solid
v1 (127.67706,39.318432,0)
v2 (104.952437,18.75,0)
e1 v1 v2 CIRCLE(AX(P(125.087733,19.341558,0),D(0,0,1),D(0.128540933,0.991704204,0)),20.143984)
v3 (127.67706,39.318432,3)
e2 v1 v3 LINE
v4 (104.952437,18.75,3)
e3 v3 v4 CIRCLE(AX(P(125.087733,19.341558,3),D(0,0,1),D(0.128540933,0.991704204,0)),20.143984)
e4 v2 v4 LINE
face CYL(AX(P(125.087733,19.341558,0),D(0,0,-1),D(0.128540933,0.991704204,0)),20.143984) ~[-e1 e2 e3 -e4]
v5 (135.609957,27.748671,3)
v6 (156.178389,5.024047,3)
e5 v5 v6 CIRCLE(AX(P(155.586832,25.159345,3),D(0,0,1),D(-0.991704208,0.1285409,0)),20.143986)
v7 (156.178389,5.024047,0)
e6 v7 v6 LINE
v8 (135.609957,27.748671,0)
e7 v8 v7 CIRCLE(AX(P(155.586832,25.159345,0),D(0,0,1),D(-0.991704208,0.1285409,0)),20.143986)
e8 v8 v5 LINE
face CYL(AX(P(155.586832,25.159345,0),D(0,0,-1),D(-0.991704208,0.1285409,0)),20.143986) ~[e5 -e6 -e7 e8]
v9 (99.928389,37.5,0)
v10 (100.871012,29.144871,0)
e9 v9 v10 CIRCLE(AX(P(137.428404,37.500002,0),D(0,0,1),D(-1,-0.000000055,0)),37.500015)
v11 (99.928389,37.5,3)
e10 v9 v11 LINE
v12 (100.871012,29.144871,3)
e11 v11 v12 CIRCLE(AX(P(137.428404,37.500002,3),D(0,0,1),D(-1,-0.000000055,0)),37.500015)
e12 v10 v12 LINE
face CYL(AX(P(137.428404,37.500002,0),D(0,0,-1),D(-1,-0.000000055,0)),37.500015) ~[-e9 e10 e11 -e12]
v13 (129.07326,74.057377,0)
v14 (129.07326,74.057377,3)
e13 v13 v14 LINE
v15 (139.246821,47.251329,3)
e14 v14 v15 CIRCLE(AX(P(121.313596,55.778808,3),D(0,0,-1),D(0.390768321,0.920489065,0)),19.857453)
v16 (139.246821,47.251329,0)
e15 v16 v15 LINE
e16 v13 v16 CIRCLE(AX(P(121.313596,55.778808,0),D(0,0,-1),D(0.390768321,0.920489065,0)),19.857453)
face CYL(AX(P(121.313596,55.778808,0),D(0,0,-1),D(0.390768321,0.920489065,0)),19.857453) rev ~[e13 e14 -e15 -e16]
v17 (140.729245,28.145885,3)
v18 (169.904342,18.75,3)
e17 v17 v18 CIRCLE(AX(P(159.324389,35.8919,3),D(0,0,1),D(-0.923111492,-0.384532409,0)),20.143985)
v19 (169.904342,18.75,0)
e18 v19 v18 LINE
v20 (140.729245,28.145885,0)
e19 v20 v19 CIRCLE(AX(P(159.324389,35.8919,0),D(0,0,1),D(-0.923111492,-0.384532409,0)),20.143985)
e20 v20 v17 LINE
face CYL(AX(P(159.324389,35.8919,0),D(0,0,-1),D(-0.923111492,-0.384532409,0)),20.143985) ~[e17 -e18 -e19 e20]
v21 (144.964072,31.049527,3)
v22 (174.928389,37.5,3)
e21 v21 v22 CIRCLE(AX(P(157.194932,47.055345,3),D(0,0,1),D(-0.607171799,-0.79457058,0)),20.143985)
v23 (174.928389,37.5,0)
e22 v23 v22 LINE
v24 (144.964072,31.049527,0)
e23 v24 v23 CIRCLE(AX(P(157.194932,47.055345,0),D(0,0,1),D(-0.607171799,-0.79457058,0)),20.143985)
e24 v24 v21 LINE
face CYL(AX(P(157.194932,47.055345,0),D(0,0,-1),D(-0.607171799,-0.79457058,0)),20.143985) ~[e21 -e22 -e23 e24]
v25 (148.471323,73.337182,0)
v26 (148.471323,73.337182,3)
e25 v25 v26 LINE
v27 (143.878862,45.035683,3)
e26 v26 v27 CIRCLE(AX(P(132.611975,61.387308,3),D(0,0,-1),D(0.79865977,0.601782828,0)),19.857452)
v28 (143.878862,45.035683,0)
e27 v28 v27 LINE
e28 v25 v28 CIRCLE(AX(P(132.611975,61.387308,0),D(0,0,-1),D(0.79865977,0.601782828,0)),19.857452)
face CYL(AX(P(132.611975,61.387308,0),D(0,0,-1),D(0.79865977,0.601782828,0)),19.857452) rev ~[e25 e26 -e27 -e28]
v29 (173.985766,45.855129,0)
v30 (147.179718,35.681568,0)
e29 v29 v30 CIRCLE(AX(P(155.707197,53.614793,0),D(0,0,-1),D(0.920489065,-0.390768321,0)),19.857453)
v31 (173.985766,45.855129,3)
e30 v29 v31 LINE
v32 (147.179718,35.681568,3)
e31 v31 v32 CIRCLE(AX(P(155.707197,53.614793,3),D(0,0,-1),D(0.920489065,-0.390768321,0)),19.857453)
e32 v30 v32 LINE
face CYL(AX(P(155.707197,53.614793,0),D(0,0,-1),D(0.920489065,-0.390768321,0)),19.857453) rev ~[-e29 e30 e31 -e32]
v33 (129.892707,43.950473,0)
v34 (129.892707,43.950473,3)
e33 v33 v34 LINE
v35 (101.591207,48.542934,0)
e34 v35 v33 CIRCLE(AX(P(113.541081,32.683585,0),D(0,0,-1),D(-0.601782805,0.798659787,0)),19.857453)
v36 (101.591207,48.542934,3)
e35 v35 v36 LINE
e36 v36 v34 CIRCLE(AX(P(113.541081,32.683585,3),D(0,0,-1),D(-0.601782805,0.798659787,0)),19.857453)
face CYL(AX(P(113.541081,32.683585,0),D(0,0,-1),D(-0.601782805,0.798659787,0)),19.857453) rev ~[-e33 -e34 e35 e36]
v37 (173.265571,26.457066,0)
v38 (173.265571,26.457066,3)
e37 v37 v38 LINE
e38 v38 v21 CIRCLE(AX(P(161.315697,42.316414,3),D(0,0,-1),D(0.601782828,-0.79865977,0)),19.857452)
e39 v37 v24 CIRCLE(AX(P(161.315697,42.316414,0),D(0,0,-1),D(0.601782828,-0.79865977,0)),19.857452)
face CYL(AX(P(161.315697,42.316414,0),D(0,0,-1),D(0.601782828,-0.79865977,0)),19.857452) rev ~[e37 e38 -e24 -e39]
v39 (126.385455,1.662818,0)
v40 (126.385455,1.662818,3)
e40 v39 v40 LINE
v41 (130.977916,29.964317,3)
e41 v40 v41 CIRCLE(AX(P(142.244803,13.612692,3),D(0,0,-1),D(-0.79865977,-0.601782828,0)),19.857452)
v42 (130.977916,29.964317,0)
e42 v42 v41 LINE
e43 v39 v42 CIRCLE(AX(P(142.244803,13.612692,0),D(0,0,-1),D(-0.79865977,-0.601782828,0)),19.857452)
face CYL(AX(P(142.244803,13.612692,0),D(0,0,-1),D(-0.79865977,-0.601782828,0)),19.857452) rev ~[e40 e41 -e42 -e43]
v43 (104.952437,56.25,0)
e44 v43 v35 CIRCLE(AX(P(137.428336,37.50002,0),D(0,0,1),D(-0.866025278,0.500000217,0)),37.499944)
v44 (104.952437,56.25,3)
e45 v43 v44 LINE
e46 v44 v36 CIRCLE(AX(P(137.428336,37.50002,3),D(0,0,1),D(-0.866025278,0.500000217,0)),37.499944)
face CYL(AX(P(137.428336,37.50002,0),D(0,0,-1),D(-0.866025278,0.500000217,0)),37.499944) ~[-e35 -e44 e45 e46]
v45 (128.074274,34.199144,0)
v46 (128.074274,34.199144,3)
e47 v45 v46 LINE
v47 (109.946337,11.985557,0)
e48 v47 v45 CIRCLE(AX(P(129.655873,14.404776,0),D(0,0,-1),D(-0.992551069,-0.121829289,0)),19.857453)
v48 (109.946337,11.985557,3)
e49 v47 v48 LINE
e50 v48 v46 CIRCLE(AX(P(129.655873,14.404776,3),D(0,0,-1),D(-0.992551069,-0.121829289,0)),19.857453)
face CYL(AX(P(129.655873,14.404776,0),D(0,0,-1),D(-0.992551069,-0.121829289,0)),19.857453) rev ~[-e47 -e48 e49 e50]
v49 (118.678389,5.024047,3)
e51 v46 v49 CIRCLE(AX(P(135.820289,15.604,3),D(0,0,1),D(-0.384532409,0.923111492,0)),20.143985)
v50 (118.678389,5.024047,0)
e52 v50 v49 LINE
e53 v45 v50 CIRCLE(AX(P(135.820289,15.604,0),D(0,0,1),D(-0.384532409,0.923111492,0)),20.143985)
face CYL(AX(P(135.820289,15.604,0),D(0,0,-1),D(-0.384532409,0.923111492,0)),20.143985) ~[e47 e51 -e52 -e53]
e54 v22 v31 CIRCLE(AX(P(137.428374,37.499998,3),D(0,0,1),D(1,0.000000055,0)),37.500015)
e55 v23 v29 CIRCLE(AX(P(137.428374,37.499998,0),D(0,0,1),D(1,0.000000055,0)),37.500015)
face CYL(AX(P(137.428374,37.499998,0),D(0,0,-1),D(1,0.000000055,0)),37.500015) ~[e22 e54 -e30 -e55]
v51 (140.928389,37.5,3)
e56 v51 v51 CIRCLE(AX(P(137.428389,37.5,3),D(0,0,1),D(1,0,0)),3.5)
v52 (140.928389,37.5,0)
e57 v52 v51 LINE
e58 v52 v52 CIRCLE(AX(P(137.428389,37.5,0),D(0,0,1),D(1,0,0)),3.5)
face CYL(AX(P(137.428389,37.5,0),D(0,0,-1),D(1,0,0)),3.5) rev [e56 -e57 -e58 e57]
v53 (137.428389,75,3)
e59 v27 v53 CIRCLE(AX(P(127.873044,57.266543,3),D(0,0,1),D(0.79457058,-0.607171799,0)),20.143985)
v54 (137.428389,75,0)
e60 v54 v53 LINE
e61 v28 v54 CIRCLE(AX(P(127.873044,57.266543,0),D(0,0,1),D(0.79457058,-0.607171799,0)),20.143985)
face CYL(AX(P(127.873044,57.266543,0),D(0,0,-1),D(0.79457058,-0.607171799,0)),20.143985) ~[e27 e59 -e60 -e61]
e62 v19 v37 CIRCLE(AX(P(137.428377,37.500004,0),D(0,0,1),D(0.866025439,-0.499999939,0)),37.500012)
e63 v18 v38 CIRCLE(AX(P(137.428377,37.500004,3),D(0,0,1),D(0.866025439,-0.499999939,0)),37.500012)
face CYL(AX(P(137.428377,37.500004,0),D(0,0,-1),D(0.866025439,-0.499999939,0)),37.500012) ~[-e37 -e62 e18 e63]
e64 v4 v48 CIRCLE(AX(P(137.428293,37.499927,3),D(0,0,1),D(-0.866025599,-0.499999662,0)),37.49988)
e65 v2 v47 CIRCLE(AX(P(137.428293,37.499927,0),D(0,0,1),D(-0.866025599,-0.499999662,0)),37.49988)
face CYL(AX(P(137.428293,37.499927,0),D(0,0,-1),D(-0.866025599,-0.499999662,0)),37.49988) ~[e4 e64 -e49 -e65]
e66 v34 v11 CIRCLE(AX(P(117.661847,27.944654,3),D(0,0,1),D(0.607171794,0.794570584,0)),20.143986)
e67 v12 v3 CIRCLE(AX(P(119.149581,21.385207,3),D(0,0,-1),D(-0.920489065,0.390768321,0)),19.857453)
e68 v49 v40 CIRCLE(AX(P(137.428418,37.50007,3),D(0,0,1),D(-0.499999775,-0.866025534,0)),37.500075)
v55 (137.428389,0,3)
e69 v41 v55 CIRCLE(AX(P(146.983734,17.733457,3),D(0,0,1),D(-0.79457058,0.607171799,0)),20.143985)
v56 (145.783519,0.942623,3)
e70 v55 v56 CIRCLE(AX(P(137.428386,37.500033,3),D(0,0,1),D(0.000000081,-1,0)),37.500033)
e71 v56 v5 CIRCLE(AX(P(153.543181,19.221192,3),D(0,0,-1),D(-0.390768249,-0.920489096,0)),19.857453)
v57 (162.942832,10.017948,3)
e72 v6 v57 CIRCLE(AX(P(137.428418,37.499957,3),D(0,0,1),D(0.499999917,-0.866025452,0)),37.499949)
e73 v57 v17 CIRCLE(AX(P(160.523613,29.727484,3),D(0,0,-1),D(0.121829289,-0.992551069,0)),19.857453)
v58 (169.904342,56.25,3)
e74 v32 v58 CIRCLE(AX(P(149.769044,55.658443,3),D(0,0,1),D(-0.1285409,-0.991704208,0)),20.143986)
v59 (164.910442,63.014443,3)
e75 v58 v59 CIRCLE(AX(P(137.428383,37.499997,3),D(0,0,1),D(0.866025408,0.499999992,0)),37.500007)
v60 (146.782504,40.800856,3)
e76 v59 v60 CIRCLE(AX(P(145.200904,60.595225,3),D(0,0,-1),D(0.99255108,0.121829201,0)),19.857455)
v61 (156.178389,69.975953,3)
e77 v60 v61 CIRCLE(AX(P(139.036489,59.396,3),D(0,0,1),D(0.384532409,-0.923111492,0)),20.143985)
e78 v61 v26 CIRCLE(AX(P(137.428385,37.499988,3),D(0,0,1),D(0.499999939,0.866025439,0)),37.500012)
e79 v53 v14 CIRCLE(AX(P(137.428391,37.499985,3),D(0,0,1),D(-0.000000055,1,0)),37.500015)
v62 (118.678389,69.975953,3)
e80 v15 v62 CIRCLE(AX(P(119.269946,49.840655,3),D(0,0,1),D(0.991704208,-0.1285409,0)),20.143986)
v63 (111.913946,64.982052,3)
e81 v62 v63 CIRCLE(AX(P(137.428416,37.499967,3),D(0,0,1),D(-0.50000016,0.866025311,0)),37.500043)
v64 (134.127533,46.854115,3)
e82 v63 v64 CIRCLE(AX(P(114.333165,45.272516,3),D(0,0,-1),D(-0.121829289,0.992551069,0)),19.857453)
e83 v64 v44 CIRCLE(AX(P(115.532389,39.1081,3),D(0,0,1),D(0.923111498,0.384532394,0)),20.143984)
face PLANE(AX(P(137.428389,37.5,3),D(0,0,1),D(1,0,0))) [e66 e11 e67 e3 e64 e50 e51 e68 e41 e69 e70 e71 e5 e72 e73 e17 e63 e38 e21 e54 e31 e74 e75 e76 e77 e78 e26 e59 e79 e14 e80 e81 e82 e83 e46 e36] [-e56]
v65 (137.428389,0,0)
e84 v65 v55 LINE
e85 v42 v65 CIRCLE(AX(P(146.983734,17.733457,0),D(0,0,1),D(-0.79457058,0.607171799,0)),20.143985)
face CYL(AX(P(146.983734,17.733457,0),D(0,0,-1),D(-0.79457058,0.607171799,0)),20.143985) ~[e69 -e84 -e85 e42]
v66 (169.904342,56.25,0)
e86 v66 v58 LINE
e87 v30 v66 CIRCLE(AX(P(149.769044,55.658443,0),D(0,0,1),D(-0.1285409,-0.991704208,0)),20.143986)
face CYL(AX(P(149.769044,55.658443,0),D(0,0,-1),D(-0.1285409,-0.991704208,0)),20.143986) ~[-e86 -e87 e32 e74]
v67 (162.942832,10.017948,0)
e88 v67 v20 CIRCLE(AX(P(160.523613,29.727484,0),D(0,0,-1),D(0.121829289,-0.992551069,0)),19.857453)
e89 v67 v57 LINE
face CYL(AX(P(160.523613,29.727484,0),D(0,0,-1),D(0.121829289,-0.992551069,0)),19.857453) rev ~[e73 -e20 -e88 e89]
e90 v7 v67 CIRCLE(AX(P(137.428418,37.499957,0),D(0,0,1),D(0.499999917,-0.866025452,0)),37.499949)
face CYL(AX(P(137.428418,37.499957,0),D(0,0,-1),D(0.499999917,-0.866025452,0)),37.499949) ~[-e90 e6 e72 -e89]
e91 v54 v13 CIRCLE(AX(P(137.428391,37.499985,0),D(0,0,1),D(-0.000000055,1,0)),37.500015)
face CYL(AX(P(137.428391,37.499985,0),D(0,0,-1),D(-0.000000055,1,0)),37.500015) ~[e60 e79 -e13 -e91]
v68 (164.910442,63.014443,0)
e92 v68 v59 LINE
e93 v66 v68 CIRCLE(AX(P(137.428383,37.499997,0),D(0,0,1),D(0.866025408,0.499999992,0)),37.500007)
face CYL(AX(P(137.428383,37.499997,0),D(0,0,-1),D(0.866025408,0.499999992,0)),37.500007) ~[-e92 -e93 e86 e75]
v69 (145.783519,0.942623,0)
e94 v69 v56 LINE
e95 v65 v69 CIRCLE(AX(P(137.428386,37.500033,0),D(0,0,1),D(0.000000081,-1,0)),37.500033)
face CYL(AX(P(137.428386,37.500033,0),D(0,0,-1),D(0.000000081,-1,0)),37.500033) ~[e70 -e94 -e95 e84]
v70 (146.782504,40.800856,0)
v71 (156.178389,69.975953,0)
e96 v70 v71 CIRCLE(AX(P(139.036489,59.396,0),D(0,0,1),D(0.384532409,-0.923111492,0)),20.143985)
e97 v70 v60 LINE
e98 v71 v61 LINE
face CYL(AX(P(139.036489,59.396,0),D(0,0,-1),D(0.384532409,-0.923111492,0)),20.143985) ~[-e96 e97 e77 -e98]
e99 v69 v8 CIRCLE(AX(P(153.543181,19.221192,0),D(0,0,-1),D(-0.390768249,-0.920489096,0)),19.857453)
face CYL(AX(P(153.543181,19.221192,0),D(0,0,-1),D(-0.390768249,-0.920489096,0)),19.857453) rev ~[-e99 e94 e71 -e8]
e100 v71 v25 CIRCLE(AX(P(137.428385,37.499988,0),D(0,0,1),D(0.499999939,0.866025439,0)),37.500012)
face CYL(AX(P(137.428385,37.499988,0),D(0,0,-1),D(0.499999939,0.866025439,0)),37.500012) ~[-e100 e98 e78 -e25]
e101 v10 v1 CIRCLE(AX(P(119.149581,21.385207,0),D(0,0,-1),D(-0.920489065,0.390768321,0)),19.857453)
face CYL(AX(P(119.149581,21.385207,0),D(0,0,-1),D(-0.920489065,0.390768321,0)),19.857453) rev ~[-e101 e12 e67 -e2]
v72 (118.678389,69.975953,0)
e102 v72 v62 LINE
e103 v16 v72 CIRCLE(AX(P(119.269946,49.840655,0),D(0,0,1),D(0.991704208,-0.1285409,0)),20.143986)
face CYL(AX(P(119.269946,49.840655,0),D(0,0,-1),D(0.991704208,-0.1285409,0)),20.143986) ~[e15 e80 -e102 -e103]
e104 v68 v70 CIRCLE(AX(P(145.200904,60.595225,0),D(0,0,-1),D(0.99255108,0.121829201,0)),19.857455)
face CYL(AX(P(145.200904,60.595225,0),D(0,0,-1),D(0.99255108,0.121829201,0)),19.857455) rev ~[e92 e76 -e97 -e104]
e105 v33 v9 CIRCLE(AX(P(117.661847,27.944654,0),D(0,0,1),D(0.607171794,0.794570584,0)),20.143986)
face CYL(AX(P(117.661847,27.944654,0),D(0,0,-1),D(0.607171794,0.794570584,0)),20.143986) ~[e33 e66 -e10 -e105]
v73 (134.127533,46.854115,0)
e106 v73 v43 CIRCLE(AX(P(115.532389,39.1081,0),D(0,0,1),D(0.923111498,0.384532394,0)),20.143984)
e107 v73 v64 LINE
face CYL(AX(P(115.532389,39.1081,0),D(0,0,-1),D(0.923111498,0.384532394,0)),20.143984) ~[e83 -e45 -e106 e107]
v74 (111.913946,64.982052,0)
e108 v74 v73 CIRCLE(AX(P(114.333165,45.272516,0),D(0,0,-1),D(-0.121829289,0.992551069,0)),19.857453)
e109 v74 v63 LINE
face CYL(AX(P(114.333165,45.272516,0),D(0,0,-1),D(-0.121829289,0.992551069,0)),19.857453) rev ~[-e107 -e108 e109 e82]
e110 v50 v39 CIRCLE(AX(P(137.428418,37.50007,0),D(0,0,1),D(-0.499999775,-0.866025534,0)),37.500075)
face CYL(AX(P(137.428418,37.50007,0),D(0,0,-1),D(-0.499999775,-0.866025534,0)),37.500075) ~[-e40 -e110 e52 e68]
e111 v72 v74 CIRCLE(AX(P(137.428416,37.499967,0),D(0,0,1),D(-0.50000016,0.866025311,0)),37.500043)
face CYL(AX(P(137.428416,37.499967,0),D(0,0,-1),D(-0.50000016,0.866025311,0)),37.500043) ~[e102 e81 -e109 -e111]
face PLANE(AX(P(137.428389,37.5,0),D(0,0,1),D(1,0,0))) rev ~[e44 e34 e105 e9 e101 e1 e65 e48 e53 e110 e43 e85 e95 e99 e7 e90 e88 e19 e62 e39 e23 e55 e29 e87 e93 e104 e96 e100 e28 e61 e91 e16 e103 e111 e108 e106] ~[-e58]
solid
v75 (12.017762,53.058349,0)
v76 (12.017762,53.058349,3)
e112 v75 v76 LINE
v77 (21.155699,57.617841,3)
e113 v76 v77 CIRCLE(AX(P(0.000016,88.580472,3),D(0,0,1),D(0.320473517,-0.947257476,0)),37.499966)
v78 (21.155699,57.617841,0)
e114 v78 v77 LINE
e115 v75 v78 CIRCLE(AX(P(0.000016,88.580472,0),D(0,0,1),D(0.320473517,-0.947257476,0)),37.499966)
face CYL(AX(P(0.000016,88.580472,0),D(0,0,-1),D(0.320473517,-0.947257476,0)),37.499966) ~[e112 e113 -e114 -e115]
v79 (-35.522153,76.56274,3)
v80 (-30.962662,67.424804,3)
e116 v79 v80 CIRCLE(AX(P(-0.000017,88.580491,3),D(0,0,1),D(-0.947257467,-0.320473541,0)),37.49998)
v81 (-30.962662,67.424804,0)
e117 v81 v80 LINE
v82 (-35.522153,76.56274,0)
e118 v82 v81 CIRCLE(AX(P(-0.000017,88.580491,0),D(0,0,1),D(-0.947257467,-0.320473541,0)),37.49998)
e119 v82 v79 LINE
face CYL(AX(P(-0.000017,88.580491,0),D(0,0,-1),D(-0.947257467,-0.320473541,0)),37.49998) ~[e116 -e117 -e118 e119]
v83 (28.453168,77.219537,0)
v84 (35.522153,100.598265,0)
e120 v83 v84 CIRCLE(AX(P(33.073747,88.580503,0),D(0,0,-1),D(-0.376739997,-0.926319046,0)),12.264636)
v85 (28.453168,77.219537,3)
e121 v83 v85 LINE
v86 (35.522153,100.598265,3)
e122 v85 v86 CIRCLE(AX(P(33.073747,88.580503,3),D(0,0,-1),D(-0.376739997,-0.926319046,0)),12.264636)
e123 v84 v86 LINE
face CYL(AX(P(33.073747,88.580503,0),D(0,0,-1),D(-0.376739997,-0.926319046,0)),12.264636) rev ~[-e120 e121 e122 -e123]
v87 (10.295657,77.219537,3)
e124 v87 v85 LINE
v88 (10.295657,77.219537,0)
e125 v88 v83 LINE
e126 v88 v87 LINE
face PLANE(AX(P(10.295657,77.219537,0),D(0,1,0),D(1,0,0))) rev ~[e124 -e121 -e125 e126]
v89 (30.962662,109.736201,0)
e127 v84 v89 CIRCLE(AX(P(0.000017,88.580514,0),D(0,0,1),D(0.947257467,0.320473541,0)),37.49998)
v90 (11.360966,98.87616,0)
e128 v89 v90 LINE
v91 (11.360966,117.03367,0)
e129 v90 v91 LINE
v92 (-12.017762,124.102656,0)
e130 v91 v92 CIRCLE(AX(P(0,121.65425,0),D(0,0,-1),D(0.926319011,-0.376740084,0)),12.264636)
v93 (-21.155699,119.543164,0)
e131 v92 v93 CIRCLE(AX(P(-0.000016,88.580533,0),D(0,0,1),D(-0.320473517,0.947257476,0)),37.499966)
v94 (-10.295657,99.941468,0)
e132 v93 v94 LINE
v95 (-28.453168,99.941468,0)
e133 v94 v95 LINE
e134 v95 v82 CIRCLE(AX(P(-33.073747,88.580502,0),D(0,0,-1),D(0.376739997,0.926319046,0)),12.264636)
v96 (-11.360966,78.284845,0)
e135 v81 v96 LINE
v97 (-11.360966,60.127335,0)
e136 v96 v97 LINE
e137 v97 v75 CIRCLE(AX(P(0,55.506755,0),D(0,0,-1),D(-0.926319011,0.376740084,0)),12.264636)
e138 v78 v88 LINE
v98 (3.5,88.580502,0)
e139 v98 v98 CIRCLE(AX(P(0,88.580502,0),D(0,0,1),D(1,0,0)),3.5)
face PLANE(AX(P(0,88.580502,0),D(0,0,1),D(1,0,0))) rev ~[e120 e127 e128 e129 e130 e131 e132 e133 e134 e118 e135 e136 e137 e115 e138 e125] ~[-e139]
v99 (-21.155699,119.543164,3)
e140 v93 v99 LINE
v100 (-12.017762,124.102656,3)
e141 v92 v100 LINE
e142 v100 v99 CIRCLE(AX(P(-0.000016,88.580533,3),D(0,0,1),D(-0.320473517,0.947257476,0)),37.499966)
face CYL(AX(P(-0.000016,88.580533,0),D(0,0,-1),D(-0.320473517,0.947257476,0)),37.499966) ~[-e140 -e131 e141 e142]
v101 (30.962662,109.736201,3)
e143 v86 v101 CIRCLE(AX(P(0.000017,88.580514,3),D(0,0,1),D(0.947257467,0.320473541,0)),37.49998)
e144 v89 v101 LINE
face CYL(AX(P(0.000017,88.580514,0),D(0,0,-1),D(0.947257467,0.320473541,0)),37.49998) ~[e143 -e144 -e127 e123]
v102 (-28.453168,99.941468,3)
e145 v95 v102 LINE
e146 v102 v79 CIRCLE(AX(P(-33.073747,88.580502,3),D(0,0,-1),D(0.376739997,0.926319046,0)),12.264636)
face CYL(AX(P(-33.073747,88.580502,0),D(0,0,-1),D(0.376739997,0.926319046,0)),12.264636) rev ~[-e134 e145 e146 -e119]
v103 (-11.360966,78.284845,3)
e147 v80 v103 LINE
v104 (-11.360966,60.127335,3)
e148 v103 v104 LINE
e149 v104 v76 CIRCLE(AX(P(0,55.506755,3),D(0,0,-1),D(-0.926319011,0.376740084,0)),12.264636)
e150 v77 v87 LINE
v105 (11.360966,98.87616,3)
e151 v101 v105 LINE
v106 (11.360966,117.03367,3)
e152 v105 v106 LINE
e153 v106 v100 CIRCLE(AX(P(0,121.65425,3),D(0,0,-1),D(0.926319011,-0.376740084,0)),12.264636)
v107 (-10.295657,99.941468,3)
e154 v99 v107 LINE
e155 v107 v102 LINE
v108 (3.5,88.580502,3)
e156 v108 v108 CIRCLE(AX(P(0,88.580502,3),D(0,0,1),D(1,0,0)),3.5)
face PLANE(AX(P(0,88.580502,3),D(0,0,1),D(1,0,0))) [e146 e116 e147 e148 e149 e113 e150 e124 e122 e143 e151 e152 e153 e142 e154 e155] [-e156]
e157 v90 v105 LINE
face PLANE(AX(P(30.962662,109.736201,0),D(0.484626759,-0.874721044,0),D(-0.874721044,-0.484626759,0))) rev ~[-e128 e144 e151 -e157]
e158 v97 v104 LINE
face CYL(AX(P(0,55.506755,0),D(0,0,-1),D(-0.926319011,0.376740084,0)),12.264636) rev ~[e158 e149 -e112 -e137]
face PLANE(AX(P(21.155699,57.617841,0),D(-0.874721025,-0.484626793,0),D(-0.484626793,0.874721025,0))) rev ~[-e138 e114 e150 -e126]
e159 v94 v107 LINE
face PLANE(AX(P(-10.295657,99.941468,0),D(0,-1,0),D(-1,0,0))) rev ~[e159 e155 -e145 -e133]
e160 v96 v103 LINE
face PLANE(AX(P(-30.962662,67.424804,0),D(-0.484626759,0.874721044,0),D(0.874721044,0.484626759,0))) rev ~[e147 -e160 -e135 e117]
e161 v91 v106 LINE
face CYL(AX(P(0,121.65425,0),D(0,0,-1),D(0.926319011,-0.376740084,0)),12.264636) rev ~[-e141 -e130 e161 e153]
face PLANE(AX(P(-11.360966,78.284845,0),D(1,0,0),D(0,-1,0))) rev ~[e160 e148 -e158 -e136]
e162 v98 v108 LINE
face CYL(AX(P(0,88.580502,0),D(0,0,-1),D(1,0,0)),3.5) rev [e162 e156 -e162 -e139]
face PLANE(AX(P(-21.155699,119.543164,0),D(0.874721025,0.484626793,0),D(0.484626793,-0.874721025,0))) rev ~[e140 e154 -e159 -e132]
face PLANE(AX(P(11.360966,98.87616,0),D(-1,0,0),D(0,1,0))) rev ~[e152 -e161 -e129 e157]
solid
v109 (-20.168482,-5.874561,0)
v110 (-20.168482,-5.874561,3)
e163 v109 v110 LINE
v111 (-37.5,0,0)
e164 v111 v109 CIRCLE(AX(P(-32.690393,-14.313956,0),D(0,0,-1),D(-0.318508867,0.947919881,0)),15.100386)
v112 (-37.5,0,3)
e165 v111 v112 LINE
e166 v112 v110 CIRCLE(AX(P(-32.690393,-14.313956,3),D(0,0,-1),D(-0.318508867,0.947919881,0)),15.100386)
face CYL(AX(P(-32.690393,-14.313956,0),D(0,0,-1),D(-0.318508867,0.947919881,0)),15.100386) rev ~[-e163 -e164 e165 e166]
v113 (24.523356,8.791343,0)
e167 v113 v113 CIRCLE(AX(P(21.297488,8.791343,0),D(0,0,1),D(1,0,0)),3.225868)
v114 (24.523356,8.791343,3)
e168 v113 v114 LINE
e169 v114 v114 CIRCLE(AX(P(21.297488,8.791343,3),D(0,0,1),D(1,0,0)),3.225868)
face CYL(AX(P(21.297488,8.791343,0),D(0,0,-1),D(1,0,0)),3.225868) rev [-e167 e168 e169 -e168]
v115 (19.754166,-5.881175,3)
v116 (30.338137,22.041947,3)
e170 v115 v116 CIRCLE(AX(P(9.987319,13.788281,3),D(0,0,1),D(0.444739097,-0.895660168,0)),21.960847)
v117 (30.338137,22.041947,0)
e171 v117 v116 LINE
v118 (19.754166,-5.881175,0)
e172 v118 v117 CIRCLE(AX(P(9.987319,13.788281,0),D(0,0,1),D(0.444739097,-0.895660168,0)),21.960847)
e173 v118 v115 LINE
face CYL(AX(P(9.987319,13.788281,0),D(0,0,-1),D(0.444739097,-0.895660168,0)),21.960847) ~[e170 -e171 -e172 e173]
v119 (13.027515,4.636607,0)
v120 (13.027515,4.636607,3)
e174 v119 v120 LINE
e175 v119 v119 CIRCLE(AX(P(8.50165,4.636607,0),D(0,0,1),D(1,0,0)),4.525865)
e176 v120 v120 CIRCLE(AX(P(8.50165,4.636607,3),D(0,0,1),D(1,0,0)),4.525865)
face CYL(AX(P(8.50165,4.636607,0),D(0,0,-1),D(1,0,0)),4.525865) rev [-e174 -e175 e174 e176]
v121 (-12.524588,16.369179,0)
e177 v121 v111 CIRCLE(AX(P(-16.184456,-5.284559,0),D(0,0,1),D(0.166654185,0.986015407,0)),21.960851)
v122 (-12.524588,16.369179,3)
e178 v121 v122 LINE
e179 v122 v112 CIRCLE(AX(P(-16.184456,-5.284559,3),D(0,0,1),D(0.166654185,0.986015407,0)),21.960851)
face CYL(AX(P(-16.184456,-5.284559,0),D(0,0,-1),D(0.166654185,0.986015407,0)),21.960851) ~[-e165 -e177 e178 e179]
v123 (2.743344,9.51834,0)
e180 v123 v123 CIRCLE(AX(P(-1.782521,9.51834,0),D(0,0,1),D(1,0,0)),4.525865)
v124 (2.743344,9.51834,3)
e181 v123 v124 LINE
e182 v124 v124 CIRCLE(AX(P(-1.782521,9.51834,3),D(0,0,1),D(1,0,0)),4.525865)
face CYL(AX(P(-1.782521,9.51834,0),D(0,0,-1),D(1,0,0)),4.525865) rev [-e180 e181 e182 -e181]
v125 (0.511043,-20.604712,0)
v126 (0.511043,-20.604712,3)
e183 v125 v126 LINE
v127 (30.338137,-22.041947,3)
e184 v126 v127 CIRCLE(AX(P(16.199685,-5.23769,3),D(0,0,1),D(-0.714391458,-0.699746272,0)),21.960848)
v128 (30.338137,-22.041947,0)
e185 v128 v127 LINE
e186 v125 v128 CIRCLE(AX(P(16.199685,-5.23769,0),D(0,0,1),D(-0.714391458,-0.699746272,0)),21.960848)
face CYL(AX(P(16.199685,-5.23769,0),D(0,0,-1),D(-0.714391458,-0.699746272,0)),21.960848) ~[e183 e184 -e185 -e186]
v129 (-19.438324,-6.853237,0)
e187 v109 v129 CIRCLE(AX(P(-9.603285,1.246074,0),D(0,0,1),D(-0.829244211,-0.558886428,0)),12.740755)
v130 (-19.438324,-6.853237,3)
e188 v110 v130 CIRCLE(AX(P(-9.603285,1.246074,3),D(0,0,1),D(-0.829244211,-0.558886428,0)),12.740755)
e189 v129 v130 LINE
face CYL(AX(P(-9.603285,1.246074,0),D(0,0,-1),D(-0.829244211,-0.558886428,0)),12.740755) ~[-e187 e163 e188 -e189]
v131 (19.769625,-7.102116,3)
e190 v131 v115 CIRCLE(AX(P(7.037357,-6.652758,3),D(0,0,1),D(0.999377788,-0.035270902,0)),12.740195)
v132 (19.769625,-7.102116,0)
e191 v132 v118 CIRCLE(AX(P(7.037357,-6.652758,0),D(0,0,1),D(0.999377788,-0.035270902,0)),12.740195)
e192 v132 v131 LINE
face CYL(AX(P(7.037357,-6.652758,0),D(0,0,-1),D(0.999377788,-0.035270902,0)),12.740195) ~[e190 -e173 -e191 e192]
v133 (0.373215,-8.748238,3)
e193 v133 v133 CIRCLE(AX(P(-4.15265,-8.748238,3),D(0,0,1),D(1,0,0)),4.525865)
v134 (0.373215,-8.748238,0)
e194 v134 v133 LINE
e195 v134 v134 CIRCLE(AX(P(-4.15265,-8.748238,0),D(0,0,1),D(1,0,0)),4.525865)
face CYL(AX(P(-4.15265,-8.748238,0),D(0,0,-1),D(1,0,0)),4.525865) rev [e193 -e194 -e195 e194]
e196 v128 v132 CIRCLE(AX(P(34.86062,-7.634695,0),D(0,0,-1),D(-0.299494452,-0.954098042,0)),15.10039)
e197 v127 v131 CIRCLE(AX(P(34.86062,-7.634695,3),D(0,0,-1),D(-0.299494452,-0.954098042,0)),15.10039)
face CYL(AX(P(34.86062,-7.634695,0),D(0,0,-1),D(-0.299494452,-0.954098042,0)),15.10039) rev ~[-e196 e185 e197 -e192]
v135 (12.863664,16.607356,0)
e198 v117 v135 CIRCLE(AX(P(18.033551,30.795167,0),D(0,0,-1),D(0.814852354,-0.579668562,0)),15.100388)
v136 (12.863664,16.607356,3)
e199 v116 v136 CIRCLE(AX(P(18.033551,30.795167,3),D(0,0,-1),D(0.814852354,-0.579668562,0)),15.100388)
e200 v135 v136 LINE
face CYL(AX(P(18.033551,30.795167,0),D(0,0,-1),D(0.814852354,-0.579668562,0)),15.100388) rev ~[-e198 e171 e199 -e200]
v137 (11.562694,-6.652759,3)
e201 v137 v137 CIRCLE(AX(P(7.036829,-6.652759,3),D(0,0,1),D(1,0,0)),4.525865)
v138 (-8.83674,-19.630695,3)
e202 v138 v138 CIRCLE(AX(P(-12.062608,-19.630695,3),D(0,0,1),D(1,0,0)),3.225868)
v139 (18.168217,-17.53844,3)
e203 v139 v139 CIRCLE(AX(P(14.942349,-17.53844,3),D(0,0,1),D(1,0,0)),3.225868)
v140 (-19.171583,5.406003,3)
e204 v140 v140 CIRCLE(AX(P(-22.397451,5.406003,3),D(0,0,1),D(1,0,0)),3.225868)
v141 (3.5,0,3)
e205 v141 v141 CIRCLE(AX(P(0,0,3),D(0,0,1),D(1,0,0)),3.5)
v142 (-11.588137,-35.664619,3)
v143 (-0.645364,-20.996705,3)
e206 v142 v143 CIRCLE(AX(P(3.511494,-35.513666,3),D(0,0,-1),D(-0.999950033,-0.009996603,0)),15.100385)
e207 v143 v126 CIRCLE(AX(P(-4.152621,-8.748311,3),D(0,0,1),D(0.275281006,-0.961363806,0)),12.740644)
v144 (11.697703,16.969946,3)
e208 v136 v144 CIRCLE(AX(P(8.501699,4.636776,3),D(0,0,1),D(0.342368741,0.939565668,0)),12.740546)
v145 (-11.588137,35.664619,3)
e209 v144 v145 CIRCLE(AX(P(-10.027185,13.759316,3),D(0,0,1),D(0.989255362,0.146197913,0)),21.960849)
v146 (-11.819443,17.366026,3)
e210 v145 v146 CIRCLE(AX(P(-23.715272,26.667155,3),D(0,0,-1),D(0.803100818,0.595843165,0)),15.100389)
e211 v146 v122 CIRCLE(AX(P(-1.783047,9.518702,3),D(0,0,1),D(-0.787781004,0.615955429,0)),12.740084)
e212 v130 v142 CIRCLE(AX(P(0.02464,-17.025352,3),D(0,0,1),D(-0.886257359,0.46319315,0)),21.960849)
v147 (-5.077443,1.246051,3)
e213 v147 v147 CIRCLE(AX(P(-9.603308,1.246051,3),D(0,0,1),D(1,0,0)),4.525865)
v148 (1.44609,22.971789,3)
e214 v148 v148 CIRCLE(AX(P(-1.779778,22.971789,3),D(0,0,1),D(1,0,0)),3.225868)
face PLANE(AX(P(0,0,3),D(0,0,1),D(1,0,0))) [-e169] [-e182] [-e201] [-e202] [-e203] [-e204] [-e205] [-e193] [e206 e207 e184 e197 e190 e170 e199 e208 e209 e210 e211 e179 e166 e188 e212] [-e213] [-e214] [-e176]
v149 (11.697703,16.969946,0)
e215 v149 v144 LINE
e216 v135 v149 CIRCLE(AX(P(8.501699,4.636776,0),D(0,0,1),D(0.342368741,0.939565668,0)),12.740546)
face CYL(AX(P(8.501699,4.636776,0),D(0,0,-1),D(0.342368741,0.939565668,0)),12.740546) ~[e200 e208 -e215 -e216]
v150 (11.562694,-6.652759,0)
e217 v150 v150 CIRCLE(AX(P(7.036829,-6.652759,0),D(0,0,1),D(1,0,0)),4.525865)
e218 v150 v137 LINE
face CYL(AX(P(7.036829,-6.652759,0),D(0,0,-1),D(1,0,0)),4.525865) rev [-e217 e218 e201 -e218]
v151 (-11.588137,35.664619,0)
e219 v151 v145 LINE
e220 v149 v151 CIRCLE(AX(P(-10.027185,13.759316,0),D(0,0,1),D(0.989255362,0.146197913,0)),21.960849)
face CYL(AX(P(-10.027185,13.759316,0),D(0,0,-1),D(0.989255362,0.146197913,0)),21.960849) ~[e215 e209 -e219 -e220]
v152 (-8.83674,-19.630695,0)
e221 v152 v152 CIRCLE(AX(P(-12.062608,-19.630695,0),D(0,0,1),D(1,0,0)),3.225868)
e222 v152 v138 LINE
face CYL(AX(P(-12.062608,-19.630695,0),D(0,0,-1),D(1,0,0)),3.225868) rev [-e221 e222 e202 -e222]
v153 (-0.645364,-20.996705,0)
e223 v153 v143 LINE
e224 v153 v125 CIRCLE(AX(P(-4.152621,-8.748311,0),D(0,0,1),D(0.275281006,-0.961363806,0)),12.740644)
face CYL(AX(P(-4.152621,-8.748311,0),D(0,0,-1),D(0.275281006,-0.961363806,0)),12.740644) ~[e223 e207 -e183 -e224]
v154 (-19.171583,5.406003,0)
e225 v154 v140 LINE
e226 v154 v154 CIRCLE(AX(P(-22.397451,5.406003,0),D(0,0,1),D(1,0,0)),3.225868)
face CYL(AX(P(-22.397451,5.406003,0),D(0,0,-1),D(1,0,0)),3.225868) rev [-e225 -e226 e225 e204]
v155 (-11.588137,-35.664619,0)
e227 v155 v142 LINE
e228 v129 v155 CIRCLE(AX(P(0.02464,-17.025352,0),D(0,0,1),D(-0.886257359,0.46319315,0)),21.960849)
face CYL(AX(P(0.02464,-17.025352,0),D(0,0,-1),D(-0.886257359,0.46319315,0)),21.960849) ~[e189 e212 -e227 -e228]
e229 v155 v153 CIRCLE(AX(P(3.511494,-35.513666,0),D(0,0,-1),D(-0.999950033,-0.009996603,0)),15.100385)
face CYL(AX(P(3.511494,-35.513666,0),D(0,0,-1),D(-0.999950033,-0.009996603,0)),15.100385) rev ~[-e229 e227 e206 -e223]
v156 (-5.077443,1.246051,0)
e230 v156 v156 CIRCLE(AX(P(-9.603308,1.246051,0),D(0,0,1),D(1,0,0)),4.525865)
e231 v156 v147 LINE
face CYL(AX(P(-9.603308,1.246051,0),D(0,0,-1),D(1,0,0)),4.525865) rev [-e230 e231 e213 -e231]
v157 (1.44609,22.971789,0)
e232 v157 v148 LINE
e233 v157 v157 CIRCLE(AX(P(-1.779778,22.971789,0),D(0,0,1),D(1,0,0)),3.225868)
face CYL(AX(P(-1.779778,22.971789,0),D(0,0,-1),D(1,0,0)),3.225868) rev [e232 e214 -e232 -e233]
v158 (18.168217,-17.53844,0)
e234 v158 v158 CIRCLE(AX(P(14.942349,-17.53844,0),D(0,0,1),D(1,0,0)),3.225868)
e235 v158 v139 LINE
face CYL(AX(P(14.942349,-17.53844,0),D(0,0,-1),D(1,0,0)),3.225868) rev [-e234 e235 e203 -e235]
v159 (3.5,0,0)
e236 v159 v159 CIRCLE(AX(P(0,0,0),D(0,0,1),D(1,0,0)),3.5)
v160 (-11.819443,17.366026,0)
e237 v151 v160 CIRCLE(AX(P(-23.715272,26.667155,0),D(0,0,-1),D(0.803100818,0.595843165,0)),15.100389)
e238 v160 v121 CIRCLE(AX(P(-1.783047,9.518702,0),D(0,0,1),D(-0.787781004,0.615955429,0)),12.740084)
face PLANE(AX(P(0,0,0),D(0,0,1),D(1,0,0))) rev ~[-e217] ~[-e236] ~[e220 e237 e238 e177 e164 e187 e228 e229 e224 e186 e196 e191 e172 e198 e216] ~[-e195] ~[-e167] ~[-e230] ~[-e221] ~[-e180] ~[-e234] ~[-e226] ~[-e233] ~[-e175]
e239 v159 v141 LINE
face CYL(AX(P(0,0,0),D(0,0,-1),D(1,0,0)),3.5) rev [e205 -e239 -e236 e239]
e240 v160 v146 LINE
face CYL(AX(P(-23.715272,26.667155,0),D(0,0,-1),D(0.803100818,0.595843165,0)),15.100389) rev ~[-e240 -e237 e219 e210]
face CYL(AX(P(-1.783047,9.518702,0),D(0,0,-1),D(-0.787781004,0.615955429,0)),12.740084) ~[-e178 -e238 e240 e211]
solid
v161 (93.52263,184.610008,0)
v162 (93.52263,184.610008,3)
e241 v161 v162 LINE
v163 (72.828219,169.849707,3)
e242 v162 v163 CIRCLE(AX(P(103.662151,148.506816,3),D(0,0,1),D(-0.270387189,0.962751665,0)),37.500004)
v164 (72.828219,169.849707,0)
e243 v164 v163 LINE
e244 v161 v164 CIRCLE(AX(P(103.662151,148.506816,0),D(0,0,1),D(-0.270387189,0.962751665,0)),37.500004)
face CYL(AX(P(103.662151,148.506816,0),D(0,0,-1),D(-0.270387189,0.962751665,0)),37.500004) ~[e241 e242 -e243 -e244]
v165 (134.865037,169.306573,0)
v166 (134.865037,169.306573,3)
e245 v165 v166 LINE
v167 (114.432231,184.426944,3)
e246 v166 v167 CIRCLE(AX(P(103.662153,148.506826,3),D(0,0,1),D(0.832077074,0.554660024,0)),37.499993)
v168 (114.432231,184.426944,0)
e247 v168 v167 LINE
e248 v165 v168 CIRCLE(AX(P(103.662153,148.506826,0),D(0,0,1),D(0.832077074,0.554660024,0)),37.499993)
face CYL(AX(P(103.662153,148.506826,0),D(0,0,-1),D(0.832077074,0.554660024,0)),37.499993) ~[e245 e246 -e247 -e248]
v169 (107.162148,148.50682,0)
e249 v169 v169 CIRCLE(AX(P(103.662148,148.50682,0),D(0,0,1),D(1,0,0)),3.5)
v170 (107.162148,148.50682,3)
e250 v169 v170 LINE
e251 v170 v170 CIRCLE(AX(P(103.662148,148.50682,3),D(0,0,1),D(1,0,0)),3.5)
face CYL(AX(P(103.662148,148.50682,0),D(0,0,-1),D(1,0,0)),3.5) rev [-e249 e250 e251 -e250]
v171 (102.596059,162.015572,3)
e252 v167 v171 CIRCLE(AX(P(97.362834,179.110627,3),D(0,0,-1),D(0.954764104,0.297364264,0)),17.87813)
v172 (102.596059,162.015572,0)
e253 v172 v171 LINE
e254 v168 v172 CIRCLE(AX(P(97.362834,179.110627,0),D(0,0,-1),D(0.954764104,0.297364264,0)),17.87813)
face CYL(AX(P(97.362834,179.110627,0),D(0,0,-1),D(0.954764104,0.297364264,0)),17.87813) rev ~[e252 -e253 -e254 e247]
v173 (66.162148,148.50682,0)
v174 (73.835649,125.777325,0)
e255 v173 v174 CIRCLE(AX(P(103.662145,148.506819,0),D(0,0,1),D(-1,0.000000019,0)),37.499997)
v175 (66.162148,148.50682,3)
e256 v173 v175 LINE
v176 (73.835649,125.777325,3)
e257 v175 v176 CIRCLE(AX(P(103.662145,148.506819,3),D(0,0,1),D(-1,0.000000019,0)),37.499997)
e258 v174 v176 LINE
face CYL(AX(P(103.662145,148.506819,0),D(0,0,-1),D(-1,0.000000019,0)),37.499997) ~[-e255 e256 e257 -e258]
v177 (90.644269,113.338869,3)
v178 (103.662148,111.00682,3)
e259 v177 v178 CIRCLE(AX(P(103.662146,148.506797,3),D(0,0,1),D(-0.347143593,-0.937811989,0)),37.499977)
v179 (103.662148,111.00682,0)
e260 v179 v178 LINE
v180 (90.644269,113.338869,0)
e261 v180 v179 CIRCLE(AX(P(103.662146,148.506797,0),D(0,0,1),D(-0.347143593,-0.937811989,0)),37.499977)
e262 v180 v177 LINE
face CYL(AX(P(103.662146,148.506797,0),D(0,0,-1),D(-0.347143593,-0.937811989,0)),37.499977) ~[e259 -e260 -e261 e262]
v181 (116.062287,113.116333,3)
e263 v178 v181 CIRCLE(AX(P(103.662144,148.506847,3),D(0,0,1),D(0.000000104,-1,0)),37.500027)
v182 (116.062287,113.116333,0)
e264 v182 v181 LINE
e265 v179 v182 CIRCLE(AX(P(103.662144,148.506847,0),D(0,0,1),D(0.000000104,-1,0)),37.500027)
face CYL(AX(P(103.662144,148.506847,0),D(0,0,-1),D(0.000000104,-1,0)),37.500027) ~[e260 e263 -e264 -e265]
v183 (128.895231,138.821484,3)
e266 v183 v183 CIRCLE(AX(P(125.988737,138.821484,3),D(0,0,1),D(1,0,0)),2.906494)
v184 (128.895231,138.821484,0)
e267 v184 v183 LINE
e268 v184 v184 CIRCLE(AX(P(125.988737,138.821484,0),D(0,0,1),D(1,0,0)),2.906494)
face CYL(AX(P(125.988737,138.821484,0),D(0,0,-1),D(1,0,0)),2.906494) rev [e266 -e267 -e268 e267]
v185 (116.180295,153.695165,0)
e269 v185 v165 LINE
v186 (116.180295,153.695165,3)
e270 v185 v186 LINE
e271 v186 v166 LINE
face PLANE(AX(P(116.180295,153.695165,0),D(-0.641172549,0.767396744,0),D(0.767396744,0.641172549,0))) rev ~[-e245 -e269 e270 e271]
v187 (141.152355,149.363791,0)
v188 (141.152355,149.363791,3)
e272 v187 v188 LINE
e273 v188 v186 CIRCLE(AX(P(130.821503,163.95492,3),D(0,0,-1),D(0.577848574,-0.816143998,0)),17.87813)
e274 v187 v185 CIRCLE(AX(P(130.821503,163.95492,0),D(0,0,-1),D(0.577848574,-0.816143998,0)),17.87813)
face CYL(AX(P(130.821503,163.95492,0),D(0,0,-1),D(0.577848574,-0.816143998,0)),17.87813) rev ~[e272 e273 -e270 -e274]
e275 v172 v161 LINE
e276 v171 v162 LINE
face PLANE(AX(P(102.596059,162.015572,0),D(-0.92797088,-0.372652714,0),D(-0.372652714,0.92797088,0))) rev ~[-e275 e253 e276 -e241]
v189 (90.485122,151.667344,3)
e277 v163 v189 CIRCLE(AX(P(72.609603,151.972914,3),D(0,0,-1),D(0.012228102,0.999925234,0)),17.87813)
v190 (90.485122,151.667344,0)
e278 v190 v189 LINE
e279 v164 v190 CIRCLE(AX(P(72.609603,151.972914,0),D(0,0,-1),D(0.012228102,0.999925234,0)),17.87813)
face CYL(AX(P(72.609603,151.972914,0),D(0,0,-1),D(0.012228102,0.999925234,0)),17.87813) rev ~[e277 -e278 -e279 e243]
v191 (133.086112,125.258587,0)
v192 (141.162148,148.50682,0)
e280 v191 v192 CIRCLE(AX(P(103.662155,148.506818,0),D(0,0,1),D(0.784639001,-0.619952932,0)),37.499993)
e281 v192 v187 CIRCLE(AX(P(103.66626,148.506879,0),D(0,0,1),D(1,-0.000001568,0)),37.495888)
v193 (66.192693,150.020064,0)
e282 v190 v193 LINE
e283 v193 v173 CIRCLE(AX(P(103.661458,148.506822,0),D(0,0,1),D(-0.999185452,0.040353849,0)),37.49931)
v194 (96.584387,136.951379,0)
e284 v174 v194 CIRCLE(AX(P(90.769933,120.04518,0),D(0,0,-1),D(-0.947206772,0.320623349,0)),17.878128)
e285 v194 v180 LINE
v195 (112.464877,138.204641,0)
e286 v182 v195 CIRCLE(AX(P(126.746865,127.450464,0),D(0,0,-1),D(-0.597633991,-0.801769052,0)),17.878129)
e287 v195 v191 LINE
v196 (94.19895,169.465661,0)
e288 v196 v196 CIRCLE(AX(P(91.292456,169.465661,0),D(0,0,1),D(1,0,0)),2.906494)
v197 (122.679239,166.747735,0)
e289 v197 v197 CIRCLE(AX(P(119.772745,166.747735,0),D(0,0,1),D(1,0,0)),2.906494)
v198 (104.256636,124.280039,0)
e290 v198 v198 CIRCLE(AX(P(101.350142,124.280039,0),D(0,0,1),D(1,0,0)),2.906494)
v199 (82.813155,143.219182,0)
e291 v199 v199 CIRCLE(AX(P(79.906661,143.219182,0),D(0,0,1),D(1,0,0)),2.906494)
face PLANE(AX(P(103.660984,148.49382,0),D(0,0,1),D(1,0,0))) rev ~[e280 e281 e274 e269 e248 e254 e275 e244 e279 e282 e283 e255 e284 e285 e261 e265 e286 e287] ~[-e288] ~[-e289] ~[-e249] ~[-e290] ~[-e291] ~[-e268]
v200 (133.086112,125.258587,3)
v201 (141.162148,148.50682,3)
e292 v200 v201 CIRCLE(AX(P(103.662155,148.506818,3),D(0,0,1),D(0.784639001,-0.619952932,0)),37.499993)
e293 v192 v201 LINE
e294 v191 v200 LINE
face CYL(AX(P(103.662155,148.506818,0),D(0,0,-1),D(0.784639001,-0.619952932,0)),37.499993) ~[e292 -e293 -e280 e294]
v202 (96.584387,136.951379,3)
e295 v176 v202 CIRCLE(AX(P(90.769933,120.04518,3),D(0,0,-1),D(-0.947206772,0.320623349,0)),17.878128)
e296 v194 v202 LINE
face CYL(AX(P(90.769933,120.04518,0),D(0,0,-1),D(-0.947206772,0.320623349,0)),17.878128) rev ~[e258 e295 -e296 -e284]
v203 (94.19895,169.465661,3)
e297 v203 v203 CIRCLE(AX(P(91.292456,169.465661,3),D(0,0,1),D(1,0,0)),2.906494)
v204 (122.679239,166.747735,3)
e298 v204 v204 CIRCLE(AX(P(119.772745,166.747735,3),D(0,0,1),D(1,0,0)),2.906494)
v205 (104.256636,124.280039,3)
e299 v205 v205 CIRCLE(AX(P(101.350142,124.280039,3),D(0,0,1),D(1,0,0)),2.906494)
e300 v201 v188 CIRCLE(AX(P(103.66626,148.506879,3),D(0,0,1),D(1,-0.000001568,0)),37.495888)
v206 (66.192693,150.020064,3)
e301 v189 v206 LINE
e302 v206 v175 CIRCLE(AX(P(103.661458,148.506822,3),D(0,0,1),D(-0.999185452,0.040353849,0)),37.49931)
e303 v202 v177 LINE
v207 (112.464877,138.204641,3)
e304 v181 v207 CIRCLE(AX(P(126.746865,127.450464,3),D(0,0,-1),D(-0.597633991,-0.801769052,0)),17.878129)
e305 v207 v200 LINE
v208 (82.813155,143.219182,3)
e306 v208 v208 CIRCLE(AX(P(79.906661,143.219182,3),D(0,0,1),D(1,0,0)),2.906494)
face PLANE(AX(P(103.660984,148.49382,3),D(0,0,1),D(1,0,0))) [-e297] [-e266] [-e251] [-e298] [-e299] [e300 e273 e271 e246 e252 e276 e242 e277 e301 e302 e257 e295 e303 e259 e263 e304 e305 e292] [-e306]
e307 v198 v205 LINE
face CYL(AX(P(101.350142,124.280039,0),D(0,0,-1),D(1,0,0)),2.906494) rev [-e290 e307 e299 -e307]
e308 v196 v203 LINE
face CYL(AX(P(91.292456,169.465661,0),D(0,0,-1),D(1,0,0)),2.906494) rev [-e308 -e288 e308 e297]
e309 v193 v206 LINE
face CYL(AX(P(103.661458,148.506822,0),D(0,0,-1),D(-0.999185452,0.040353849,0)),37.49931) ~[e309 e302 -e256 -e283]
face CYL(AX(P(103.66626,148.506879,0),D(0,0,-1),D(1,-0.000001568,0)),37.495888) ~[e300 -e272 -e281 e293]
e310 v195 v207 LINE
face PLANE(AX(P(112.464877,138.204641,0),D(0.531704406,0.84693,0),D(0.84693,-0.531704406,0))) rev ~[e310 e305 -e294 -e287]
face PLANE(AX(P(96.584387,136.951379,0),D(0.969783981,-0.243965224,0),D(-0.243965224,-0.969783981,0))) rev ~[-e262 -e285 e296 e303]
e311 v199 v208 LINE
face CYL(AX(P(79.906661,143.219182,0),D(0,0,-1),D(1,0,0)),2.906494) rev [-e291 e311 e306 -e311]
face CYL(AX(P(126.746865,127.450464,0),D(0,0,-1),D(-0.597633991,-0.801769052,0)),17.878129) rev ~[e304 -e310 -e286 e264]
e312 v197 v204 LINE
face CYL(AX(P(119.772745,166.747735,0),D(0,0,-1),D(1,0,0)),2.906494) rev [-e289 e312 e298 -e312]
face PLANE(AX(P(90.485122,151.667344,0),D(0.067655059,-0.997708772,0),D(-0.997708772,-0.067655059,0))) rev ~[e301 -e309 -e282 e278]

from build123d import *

# Parameters (mm, degrees)
F0_R     = 3.225868
F0_R_2   = 4.525865
F0_R_3   = 3.5
F1_DEPTH = 3
F2_R     = 3.5
F3_DEPTH = 3
F4_R     = 3.5
F5_DEPTH = 3
F6_R     = 2.906494
F6_R_2   = 3.5
F7_DEPTH = 3


with BuildPart() as f1:
    # F0 (on Top) → F1 (new body)
    with BuildSketch(Plane.XY):
        with BuildLine():
            ThreePointArc((-19.438324, -6.853237), (-21.163785, -22.798525), (-11.588137, -35.664619))
            ThreePointArc((-11.588137, -35.664619), (-8.591812, -26.48418), (-0.645364, -20.996705))
            ThreePointArc((-0.645364, -20.996705), (-0.062462, -20.81457), (0.511043, -20.604712))
            ThreePointArc((0.511043, -20.604712), (15.142716, -27.173088), (30.338137, -22.041947))
            ThreePointArc((30.338137, -22.041947), (22.532937, -16.35536), (19.769625, -7.102116))
            ThreePointArc((19.769625, -7.102116), (19.776531, -6.49146), (19.754166, -5.881175))
            ThreePointArc((19.754166, -5.881175), (30.522499, 6.004633), (30.338137, 22.041947))
            ThreePointArc((30.338137, 22.041947), (22.517932, 16.376012), (12.863664, 16.607356))
            ThreePointArc((12.863664, 16.607356), (12.28503, 16.802627), (11.697703, 16.969946))
            ThreePointArc((11.697703, 16.969946), (3.721225, 30.884155), (-11.588137, 35.664619))
            ThreePointArc((-11.588137, 35.664619), (-8.616089, 26.476292), (-11.819443, 17.366026))
            ThreePointArc((-11.819443, 17.366026), (-12.183965, 16.876055), (-12.524588, 16.369179))
            ThreePointArc((-12.524588, 16.369179), (-28.222655, 13.082824), (-37.5, 0))
            ThreePointArc((-37.5, 0), (-27.842968, -0.012763), (-20.168482, -5.874561))
            ThreePointArc((-20.168482, -5.874561), (-19.815134, -6.372651), (-19.438324, -6.853237))
        make_face()
        with Locations((-12.062608, -19.630695)):
            Circle(F0_R, mode=Mode.SUBTRACT)
        with Locations((-4.15265, -8.748238)):
            Circle(F0_R_2, mode=Mode.SUBTRACT)
        with Locations((14.942349, -17.53844)):
            Circle(F0_R, mode=Mode.SUBTRACT)
        with Locations((7.036829, -6.652759)):
            Circle(F0_R_2, mode=Mode.SUBTRACT)
        with Locations((-22.397451, 5.406003)):
            Circle(F0_R, mode=Mode.SUBTRACT)
        with Locations((-9.603308, 1.246051)):
            Circle(F0_R_2, mode=Mode.SUBTRACT)
        with Locations((-1.782521, 9.51834)):
            Circle(F0_R_2, mode=Mode.SUBTRACT)
        with Locations((-1.779778, 22.971789)):
            Circle(F0_R, mode=Mode.SUBTRACT)
        Circle(F0_R_3, mode=Mode.SUBTRACT)
        with Locations((8.50165, 4.636607)):
            Circle(F0_R_2, mode=Mode.SUBTRACT)
        with Locations((21.297488, 8.791343)):
            Circle(F0_R, mode=Mode.SUBTRACT)
    extrude(amount=F1_DEPTH)


with BuildPart() as f3:
    # F2 (on Top) → F3 (new body)
    with BuildSketch(Plane.XY):
        with BuildLine():
            ThreePointArc((35.522153, 100.598265), (33.554927, 105.323169), (30.962662, 109.736201))
            Line((30.962662, 109.736201), (11.360966, 98.87616))
            Line((11.360966, 98.87616), (11.360966, 117.03367))
            ThreePointArc((11.360966, 117.03367), (-3.549716, 109.914539), (-12.017762, 124.102656))
            ThreePointArc((-12.017762, 124.102656), (-16.742666, 122.13543), (-21.155699, 119.543164))
            Line((-21.155699, 119.543164), (-10.295657, 99.941468))
            Line((-10.295657, 99.941468), (-28.453168, 99.941468))
            ThreePointArc((-28.453168, 99.941468), (-21.334036, 85.030786), (-35.522153, 76.56274))
            ThreePointArc((-35.522153, 76.56274), (-33.554927, 71.837836), (-30.962662, 67.424804))
            Line((-30.962662, 67.424804), (-11.360966, 78.284845))
            Line((-11.360966, 78.284845), (-11.360966, 60.127335))
            ThreePointArc((-11.360966, 60.127335), (3.549716, 67.246466), (12.017762, 53.058349))
            ThreePointArc((12.017762, 53.058349), (16.742666, 55.025575), (21.155699, 57.617841))
            Line((21.155699, 57.617841), (10.295657, 77.219537))
            Line((10.295657, 77.219537), (28.453168, 77.219537))
            ThreePointArc((28.453168, 77.219537), (21.334036, 92.130219), (35.522153, 100.598265))
        make_face()
        with Locations((0, 88.580502)):
            Circle(F2_R, mode=Mode.SUBTRACT)
    extrude(amount=F3_DEPTH)


with BuildPart() as f5:
    # F4 (on Top) → F5 (new body)
    with BuildSketch(Plane.XY):
        with BuildLine():
            ThreePointArc((130.977916, 29.964317), (127.290884, 13.494142), (137.428389, 0))
            ThreePointArc((137.428389, 0), (141.632456, 0.236401), (145.783519, 0.942623))
            ThreePointArc((145.783519, 0.942623), (134.977833, 12.17518), (135.609957, 27.748671))
            ThreePointArc((135.609957, 27.748671), (140.651981, 11.641565), (156.178389, 5.024047))
            ThreePointArc((156.178389, 5.024047), (159.701018, 7.33081), (162.942832, 10.017948))
            ThreePointArc((162.942832, 10.017948), (147.968555, 14.342785), (140.729245, 28.145885))
            ThreePointArc((140.729245, 28.145885), (153.149319, 16.717734), (169.904342, 18.75))
            ThreePointArc((169.904342, 18.75), (171.801646, 22.509029), (173.265571, 26.457066))
            ThreePointArc((173.265571, 26.457066), (158.135048, 22.715346), (144.964072, 31.049527))
            ThreePointArc((144.964072, 31.049527), (161.434247, 27.362495), (174.928389, 37.5))
            ThreePointArc((174.928389, 37.5), (174.691988, 41.704067), (173.985766, 45.855129))
            ThreePointArc((173.985766, 45.855129), (162.753209, 35.049444), (147.179718, 35.681568))
            ThreePointArc((147.179718, 35.681568), (163.286824, 40.723592), (169.904342, 56.25))
            ThreePointArc((169.904342, 56.25), (167.597579, 59.772629), (164.910442, 63.014443))
            ThreePointArc((164.910442, 63.014443), (160.585604, 48.040166), (146.782504, 40.800856))
            ThreePointArc((146.782504, 40.800856), (158.210655, 53.22093), (156.178389, 69.975953))
            ThreePointArc((156.178389, 69.975953), (152.41936, 71.873257), (148.471323, 73.337182))
            ThreePointArc((148.471323, 73.337182), (152.213043, 58.206659), (143.878862, 45.035683))
            ThreePointArc((143.878862, 45.035683), (147.565894, 61.505858), (137.428389, 75))
            ThreePointArc((137.428389, 75), (133.224322, 74.763599), (129.07326, 74.057377))
            ThreePointArc((129.07326, 74.057377), (139.878945, 62.82482), (139.246821, 47.251329))
            ThreePointArc((139.246821, 47.251329), (134.204797, 63.358435), (118.678389, 69.975953))
            ThreePointArc((118.678389, 69.975953), (115.155761, 67.66919), (111.913946, 64.982052))
            ThreePointArc((111.913946, 64.982052), (126.888223, 60.657215), (134.127533, 46.854115))
            ThreePointArc((134.127533, 46.854115), (121.707459, 58.282266), (104.952437, 56.25))
            ThreePointArc((104.952437, 56.25), (103.055132, 52.490971), (101.591207, 48.542934))
            ThreePointArc((101.591207, 48.542934), (116.72173, 52.284654), (129.892707, 43.950473))
            ThreePointArc((129.892707, 43.950473), (113.422531, 47.637505), (99.928389, 37.5))
            ThreePointArc((99.928389, 37.5), (100.16479, 33.295933), (100.871012, 29.144871))
            ThreePointArc((100.871012, 29.144871), (112.103569, 39.950556), (127.67706, 39.318432))
            ThreePointArc((127.67706, 39.318432), (111.569954, 34.276408), (104.952437, 18.75))
            ThreePointArc((104.952437, 18.75), (107.259199, 15.227371), (109.946337, 11.985557))
            ThreePointArc((109.946337, 11.985557), (114.271174, 26.959834), (128.074274, 34.199144))
            ThreePointArc((128.074274, 34.199144), (116.646123, 21.77907), (118.678389, 5.024047))
            ThreePointArc((118.678389, 5.024047), (122.437419, 3.126743), (126.385455, 1.662818))
            ThreePointArc((126.385455, 1.662818), (122.643735, 16.793341), (130.977916, 29.964317))
        make_face()
        with Locations((137.428389, 37.5)):
            Circle(F4_R, mode=Mode.SUBTRACT)
    extrude(amount=F5_DEPTH)


with BuildPart() as f7:
    # F6 (on Top) → F7 (new body)
    with BuildSketch(Plane.XY):
        with BuildLine():
            ThreePointArc((90.644269, 113.338869), (97.049591, 111.594436), (103.662148, 111.00682))
            ThreePointArc((103.662148, 111.00682), (109.951295, 111.53796), (116.062287, 113.116333))
            ThreePointArc((116.062287, 113.116333), (109.049742, 124.912876), (112.464877, 138.204641))
            Line((112.464877, 138.204641), (133.086112, 125.258587))
            ThreePointArc((133.086112, 125.258587), (139.085648, 136.201306), (141.162148, 148.50682))
            ThreePointArc((141.162148, 148.50682), (141.1597, 148.935334), (141.152355, 149.363791))
            ThreePointArc((141.152355, 149.363791), (127.766181, 146.339797), (116.180295, 153.695165))
            Line((116.180295, 153.695165), (134.865037, 169.306573))
            ThreePointArc((134.865037, 169.306573), (125.968851, 178.650825), (114.432231, 184.426944))
            ThreePointArc((114.432231, 184.426944), (113.171665, 170.761471), (102.596059, 162.015572))
            Line((102.596059, 162.015572), (93.52263, 184.610008))
            ThreePointArc((93.52263, 184.610008), (81.886647, 179.036765), (72.828219, 169.849707))
            ThreePointArc((72.828219, 169.849707), (85.43532, 164.427974), (90.485122, 151.667344))
            Line((90.485122, 151.667344), (66.192693, 150.020064))
            ThreePointArc((66.192693, 150.020064), (66.169785, 149.263596), (66.162148, 148.50682))
            ThreePointArc((66.162148, 148.50682), (68.132275, 136.511899), (73.835649, 125.777325))
            ThreePointArc((73.835649, 125.777325), (82.887831, 136.091984), (96.584387, 136.951379))
            Line((96.584387, 136.951379), (90.644269, 113.338869))
        make_face()
        with Locations((101.350142, 124.280039)):
            Circle(F6_R, mode=Mode.SUBTRACT)
        with Locations((79.906661, 143.219182)):
            Circle(F6_R, mode=Mode.SUBTRACT)
        with Locations((125.988737, 138.821484)):
            Circle(F6_R, mode=Mode.SUBTRACT)
        with Locations((103.662148, 148.50682)):
            Circle(F6_R_2, mode=Mode.SUBTRACT)
        with Locations((91.292456, 169.465661)):
            Circle(F6_R, mode=Mode.SUBTRACT)
        with Locations((119.772745, 166.747735)):
            Circle(F6_R, mode=Mode.SUBTRACT)
    extrude(amount=F7_DEPTH)


solid = Compound([f1.part, f3.part, f5.part, f7.part])
